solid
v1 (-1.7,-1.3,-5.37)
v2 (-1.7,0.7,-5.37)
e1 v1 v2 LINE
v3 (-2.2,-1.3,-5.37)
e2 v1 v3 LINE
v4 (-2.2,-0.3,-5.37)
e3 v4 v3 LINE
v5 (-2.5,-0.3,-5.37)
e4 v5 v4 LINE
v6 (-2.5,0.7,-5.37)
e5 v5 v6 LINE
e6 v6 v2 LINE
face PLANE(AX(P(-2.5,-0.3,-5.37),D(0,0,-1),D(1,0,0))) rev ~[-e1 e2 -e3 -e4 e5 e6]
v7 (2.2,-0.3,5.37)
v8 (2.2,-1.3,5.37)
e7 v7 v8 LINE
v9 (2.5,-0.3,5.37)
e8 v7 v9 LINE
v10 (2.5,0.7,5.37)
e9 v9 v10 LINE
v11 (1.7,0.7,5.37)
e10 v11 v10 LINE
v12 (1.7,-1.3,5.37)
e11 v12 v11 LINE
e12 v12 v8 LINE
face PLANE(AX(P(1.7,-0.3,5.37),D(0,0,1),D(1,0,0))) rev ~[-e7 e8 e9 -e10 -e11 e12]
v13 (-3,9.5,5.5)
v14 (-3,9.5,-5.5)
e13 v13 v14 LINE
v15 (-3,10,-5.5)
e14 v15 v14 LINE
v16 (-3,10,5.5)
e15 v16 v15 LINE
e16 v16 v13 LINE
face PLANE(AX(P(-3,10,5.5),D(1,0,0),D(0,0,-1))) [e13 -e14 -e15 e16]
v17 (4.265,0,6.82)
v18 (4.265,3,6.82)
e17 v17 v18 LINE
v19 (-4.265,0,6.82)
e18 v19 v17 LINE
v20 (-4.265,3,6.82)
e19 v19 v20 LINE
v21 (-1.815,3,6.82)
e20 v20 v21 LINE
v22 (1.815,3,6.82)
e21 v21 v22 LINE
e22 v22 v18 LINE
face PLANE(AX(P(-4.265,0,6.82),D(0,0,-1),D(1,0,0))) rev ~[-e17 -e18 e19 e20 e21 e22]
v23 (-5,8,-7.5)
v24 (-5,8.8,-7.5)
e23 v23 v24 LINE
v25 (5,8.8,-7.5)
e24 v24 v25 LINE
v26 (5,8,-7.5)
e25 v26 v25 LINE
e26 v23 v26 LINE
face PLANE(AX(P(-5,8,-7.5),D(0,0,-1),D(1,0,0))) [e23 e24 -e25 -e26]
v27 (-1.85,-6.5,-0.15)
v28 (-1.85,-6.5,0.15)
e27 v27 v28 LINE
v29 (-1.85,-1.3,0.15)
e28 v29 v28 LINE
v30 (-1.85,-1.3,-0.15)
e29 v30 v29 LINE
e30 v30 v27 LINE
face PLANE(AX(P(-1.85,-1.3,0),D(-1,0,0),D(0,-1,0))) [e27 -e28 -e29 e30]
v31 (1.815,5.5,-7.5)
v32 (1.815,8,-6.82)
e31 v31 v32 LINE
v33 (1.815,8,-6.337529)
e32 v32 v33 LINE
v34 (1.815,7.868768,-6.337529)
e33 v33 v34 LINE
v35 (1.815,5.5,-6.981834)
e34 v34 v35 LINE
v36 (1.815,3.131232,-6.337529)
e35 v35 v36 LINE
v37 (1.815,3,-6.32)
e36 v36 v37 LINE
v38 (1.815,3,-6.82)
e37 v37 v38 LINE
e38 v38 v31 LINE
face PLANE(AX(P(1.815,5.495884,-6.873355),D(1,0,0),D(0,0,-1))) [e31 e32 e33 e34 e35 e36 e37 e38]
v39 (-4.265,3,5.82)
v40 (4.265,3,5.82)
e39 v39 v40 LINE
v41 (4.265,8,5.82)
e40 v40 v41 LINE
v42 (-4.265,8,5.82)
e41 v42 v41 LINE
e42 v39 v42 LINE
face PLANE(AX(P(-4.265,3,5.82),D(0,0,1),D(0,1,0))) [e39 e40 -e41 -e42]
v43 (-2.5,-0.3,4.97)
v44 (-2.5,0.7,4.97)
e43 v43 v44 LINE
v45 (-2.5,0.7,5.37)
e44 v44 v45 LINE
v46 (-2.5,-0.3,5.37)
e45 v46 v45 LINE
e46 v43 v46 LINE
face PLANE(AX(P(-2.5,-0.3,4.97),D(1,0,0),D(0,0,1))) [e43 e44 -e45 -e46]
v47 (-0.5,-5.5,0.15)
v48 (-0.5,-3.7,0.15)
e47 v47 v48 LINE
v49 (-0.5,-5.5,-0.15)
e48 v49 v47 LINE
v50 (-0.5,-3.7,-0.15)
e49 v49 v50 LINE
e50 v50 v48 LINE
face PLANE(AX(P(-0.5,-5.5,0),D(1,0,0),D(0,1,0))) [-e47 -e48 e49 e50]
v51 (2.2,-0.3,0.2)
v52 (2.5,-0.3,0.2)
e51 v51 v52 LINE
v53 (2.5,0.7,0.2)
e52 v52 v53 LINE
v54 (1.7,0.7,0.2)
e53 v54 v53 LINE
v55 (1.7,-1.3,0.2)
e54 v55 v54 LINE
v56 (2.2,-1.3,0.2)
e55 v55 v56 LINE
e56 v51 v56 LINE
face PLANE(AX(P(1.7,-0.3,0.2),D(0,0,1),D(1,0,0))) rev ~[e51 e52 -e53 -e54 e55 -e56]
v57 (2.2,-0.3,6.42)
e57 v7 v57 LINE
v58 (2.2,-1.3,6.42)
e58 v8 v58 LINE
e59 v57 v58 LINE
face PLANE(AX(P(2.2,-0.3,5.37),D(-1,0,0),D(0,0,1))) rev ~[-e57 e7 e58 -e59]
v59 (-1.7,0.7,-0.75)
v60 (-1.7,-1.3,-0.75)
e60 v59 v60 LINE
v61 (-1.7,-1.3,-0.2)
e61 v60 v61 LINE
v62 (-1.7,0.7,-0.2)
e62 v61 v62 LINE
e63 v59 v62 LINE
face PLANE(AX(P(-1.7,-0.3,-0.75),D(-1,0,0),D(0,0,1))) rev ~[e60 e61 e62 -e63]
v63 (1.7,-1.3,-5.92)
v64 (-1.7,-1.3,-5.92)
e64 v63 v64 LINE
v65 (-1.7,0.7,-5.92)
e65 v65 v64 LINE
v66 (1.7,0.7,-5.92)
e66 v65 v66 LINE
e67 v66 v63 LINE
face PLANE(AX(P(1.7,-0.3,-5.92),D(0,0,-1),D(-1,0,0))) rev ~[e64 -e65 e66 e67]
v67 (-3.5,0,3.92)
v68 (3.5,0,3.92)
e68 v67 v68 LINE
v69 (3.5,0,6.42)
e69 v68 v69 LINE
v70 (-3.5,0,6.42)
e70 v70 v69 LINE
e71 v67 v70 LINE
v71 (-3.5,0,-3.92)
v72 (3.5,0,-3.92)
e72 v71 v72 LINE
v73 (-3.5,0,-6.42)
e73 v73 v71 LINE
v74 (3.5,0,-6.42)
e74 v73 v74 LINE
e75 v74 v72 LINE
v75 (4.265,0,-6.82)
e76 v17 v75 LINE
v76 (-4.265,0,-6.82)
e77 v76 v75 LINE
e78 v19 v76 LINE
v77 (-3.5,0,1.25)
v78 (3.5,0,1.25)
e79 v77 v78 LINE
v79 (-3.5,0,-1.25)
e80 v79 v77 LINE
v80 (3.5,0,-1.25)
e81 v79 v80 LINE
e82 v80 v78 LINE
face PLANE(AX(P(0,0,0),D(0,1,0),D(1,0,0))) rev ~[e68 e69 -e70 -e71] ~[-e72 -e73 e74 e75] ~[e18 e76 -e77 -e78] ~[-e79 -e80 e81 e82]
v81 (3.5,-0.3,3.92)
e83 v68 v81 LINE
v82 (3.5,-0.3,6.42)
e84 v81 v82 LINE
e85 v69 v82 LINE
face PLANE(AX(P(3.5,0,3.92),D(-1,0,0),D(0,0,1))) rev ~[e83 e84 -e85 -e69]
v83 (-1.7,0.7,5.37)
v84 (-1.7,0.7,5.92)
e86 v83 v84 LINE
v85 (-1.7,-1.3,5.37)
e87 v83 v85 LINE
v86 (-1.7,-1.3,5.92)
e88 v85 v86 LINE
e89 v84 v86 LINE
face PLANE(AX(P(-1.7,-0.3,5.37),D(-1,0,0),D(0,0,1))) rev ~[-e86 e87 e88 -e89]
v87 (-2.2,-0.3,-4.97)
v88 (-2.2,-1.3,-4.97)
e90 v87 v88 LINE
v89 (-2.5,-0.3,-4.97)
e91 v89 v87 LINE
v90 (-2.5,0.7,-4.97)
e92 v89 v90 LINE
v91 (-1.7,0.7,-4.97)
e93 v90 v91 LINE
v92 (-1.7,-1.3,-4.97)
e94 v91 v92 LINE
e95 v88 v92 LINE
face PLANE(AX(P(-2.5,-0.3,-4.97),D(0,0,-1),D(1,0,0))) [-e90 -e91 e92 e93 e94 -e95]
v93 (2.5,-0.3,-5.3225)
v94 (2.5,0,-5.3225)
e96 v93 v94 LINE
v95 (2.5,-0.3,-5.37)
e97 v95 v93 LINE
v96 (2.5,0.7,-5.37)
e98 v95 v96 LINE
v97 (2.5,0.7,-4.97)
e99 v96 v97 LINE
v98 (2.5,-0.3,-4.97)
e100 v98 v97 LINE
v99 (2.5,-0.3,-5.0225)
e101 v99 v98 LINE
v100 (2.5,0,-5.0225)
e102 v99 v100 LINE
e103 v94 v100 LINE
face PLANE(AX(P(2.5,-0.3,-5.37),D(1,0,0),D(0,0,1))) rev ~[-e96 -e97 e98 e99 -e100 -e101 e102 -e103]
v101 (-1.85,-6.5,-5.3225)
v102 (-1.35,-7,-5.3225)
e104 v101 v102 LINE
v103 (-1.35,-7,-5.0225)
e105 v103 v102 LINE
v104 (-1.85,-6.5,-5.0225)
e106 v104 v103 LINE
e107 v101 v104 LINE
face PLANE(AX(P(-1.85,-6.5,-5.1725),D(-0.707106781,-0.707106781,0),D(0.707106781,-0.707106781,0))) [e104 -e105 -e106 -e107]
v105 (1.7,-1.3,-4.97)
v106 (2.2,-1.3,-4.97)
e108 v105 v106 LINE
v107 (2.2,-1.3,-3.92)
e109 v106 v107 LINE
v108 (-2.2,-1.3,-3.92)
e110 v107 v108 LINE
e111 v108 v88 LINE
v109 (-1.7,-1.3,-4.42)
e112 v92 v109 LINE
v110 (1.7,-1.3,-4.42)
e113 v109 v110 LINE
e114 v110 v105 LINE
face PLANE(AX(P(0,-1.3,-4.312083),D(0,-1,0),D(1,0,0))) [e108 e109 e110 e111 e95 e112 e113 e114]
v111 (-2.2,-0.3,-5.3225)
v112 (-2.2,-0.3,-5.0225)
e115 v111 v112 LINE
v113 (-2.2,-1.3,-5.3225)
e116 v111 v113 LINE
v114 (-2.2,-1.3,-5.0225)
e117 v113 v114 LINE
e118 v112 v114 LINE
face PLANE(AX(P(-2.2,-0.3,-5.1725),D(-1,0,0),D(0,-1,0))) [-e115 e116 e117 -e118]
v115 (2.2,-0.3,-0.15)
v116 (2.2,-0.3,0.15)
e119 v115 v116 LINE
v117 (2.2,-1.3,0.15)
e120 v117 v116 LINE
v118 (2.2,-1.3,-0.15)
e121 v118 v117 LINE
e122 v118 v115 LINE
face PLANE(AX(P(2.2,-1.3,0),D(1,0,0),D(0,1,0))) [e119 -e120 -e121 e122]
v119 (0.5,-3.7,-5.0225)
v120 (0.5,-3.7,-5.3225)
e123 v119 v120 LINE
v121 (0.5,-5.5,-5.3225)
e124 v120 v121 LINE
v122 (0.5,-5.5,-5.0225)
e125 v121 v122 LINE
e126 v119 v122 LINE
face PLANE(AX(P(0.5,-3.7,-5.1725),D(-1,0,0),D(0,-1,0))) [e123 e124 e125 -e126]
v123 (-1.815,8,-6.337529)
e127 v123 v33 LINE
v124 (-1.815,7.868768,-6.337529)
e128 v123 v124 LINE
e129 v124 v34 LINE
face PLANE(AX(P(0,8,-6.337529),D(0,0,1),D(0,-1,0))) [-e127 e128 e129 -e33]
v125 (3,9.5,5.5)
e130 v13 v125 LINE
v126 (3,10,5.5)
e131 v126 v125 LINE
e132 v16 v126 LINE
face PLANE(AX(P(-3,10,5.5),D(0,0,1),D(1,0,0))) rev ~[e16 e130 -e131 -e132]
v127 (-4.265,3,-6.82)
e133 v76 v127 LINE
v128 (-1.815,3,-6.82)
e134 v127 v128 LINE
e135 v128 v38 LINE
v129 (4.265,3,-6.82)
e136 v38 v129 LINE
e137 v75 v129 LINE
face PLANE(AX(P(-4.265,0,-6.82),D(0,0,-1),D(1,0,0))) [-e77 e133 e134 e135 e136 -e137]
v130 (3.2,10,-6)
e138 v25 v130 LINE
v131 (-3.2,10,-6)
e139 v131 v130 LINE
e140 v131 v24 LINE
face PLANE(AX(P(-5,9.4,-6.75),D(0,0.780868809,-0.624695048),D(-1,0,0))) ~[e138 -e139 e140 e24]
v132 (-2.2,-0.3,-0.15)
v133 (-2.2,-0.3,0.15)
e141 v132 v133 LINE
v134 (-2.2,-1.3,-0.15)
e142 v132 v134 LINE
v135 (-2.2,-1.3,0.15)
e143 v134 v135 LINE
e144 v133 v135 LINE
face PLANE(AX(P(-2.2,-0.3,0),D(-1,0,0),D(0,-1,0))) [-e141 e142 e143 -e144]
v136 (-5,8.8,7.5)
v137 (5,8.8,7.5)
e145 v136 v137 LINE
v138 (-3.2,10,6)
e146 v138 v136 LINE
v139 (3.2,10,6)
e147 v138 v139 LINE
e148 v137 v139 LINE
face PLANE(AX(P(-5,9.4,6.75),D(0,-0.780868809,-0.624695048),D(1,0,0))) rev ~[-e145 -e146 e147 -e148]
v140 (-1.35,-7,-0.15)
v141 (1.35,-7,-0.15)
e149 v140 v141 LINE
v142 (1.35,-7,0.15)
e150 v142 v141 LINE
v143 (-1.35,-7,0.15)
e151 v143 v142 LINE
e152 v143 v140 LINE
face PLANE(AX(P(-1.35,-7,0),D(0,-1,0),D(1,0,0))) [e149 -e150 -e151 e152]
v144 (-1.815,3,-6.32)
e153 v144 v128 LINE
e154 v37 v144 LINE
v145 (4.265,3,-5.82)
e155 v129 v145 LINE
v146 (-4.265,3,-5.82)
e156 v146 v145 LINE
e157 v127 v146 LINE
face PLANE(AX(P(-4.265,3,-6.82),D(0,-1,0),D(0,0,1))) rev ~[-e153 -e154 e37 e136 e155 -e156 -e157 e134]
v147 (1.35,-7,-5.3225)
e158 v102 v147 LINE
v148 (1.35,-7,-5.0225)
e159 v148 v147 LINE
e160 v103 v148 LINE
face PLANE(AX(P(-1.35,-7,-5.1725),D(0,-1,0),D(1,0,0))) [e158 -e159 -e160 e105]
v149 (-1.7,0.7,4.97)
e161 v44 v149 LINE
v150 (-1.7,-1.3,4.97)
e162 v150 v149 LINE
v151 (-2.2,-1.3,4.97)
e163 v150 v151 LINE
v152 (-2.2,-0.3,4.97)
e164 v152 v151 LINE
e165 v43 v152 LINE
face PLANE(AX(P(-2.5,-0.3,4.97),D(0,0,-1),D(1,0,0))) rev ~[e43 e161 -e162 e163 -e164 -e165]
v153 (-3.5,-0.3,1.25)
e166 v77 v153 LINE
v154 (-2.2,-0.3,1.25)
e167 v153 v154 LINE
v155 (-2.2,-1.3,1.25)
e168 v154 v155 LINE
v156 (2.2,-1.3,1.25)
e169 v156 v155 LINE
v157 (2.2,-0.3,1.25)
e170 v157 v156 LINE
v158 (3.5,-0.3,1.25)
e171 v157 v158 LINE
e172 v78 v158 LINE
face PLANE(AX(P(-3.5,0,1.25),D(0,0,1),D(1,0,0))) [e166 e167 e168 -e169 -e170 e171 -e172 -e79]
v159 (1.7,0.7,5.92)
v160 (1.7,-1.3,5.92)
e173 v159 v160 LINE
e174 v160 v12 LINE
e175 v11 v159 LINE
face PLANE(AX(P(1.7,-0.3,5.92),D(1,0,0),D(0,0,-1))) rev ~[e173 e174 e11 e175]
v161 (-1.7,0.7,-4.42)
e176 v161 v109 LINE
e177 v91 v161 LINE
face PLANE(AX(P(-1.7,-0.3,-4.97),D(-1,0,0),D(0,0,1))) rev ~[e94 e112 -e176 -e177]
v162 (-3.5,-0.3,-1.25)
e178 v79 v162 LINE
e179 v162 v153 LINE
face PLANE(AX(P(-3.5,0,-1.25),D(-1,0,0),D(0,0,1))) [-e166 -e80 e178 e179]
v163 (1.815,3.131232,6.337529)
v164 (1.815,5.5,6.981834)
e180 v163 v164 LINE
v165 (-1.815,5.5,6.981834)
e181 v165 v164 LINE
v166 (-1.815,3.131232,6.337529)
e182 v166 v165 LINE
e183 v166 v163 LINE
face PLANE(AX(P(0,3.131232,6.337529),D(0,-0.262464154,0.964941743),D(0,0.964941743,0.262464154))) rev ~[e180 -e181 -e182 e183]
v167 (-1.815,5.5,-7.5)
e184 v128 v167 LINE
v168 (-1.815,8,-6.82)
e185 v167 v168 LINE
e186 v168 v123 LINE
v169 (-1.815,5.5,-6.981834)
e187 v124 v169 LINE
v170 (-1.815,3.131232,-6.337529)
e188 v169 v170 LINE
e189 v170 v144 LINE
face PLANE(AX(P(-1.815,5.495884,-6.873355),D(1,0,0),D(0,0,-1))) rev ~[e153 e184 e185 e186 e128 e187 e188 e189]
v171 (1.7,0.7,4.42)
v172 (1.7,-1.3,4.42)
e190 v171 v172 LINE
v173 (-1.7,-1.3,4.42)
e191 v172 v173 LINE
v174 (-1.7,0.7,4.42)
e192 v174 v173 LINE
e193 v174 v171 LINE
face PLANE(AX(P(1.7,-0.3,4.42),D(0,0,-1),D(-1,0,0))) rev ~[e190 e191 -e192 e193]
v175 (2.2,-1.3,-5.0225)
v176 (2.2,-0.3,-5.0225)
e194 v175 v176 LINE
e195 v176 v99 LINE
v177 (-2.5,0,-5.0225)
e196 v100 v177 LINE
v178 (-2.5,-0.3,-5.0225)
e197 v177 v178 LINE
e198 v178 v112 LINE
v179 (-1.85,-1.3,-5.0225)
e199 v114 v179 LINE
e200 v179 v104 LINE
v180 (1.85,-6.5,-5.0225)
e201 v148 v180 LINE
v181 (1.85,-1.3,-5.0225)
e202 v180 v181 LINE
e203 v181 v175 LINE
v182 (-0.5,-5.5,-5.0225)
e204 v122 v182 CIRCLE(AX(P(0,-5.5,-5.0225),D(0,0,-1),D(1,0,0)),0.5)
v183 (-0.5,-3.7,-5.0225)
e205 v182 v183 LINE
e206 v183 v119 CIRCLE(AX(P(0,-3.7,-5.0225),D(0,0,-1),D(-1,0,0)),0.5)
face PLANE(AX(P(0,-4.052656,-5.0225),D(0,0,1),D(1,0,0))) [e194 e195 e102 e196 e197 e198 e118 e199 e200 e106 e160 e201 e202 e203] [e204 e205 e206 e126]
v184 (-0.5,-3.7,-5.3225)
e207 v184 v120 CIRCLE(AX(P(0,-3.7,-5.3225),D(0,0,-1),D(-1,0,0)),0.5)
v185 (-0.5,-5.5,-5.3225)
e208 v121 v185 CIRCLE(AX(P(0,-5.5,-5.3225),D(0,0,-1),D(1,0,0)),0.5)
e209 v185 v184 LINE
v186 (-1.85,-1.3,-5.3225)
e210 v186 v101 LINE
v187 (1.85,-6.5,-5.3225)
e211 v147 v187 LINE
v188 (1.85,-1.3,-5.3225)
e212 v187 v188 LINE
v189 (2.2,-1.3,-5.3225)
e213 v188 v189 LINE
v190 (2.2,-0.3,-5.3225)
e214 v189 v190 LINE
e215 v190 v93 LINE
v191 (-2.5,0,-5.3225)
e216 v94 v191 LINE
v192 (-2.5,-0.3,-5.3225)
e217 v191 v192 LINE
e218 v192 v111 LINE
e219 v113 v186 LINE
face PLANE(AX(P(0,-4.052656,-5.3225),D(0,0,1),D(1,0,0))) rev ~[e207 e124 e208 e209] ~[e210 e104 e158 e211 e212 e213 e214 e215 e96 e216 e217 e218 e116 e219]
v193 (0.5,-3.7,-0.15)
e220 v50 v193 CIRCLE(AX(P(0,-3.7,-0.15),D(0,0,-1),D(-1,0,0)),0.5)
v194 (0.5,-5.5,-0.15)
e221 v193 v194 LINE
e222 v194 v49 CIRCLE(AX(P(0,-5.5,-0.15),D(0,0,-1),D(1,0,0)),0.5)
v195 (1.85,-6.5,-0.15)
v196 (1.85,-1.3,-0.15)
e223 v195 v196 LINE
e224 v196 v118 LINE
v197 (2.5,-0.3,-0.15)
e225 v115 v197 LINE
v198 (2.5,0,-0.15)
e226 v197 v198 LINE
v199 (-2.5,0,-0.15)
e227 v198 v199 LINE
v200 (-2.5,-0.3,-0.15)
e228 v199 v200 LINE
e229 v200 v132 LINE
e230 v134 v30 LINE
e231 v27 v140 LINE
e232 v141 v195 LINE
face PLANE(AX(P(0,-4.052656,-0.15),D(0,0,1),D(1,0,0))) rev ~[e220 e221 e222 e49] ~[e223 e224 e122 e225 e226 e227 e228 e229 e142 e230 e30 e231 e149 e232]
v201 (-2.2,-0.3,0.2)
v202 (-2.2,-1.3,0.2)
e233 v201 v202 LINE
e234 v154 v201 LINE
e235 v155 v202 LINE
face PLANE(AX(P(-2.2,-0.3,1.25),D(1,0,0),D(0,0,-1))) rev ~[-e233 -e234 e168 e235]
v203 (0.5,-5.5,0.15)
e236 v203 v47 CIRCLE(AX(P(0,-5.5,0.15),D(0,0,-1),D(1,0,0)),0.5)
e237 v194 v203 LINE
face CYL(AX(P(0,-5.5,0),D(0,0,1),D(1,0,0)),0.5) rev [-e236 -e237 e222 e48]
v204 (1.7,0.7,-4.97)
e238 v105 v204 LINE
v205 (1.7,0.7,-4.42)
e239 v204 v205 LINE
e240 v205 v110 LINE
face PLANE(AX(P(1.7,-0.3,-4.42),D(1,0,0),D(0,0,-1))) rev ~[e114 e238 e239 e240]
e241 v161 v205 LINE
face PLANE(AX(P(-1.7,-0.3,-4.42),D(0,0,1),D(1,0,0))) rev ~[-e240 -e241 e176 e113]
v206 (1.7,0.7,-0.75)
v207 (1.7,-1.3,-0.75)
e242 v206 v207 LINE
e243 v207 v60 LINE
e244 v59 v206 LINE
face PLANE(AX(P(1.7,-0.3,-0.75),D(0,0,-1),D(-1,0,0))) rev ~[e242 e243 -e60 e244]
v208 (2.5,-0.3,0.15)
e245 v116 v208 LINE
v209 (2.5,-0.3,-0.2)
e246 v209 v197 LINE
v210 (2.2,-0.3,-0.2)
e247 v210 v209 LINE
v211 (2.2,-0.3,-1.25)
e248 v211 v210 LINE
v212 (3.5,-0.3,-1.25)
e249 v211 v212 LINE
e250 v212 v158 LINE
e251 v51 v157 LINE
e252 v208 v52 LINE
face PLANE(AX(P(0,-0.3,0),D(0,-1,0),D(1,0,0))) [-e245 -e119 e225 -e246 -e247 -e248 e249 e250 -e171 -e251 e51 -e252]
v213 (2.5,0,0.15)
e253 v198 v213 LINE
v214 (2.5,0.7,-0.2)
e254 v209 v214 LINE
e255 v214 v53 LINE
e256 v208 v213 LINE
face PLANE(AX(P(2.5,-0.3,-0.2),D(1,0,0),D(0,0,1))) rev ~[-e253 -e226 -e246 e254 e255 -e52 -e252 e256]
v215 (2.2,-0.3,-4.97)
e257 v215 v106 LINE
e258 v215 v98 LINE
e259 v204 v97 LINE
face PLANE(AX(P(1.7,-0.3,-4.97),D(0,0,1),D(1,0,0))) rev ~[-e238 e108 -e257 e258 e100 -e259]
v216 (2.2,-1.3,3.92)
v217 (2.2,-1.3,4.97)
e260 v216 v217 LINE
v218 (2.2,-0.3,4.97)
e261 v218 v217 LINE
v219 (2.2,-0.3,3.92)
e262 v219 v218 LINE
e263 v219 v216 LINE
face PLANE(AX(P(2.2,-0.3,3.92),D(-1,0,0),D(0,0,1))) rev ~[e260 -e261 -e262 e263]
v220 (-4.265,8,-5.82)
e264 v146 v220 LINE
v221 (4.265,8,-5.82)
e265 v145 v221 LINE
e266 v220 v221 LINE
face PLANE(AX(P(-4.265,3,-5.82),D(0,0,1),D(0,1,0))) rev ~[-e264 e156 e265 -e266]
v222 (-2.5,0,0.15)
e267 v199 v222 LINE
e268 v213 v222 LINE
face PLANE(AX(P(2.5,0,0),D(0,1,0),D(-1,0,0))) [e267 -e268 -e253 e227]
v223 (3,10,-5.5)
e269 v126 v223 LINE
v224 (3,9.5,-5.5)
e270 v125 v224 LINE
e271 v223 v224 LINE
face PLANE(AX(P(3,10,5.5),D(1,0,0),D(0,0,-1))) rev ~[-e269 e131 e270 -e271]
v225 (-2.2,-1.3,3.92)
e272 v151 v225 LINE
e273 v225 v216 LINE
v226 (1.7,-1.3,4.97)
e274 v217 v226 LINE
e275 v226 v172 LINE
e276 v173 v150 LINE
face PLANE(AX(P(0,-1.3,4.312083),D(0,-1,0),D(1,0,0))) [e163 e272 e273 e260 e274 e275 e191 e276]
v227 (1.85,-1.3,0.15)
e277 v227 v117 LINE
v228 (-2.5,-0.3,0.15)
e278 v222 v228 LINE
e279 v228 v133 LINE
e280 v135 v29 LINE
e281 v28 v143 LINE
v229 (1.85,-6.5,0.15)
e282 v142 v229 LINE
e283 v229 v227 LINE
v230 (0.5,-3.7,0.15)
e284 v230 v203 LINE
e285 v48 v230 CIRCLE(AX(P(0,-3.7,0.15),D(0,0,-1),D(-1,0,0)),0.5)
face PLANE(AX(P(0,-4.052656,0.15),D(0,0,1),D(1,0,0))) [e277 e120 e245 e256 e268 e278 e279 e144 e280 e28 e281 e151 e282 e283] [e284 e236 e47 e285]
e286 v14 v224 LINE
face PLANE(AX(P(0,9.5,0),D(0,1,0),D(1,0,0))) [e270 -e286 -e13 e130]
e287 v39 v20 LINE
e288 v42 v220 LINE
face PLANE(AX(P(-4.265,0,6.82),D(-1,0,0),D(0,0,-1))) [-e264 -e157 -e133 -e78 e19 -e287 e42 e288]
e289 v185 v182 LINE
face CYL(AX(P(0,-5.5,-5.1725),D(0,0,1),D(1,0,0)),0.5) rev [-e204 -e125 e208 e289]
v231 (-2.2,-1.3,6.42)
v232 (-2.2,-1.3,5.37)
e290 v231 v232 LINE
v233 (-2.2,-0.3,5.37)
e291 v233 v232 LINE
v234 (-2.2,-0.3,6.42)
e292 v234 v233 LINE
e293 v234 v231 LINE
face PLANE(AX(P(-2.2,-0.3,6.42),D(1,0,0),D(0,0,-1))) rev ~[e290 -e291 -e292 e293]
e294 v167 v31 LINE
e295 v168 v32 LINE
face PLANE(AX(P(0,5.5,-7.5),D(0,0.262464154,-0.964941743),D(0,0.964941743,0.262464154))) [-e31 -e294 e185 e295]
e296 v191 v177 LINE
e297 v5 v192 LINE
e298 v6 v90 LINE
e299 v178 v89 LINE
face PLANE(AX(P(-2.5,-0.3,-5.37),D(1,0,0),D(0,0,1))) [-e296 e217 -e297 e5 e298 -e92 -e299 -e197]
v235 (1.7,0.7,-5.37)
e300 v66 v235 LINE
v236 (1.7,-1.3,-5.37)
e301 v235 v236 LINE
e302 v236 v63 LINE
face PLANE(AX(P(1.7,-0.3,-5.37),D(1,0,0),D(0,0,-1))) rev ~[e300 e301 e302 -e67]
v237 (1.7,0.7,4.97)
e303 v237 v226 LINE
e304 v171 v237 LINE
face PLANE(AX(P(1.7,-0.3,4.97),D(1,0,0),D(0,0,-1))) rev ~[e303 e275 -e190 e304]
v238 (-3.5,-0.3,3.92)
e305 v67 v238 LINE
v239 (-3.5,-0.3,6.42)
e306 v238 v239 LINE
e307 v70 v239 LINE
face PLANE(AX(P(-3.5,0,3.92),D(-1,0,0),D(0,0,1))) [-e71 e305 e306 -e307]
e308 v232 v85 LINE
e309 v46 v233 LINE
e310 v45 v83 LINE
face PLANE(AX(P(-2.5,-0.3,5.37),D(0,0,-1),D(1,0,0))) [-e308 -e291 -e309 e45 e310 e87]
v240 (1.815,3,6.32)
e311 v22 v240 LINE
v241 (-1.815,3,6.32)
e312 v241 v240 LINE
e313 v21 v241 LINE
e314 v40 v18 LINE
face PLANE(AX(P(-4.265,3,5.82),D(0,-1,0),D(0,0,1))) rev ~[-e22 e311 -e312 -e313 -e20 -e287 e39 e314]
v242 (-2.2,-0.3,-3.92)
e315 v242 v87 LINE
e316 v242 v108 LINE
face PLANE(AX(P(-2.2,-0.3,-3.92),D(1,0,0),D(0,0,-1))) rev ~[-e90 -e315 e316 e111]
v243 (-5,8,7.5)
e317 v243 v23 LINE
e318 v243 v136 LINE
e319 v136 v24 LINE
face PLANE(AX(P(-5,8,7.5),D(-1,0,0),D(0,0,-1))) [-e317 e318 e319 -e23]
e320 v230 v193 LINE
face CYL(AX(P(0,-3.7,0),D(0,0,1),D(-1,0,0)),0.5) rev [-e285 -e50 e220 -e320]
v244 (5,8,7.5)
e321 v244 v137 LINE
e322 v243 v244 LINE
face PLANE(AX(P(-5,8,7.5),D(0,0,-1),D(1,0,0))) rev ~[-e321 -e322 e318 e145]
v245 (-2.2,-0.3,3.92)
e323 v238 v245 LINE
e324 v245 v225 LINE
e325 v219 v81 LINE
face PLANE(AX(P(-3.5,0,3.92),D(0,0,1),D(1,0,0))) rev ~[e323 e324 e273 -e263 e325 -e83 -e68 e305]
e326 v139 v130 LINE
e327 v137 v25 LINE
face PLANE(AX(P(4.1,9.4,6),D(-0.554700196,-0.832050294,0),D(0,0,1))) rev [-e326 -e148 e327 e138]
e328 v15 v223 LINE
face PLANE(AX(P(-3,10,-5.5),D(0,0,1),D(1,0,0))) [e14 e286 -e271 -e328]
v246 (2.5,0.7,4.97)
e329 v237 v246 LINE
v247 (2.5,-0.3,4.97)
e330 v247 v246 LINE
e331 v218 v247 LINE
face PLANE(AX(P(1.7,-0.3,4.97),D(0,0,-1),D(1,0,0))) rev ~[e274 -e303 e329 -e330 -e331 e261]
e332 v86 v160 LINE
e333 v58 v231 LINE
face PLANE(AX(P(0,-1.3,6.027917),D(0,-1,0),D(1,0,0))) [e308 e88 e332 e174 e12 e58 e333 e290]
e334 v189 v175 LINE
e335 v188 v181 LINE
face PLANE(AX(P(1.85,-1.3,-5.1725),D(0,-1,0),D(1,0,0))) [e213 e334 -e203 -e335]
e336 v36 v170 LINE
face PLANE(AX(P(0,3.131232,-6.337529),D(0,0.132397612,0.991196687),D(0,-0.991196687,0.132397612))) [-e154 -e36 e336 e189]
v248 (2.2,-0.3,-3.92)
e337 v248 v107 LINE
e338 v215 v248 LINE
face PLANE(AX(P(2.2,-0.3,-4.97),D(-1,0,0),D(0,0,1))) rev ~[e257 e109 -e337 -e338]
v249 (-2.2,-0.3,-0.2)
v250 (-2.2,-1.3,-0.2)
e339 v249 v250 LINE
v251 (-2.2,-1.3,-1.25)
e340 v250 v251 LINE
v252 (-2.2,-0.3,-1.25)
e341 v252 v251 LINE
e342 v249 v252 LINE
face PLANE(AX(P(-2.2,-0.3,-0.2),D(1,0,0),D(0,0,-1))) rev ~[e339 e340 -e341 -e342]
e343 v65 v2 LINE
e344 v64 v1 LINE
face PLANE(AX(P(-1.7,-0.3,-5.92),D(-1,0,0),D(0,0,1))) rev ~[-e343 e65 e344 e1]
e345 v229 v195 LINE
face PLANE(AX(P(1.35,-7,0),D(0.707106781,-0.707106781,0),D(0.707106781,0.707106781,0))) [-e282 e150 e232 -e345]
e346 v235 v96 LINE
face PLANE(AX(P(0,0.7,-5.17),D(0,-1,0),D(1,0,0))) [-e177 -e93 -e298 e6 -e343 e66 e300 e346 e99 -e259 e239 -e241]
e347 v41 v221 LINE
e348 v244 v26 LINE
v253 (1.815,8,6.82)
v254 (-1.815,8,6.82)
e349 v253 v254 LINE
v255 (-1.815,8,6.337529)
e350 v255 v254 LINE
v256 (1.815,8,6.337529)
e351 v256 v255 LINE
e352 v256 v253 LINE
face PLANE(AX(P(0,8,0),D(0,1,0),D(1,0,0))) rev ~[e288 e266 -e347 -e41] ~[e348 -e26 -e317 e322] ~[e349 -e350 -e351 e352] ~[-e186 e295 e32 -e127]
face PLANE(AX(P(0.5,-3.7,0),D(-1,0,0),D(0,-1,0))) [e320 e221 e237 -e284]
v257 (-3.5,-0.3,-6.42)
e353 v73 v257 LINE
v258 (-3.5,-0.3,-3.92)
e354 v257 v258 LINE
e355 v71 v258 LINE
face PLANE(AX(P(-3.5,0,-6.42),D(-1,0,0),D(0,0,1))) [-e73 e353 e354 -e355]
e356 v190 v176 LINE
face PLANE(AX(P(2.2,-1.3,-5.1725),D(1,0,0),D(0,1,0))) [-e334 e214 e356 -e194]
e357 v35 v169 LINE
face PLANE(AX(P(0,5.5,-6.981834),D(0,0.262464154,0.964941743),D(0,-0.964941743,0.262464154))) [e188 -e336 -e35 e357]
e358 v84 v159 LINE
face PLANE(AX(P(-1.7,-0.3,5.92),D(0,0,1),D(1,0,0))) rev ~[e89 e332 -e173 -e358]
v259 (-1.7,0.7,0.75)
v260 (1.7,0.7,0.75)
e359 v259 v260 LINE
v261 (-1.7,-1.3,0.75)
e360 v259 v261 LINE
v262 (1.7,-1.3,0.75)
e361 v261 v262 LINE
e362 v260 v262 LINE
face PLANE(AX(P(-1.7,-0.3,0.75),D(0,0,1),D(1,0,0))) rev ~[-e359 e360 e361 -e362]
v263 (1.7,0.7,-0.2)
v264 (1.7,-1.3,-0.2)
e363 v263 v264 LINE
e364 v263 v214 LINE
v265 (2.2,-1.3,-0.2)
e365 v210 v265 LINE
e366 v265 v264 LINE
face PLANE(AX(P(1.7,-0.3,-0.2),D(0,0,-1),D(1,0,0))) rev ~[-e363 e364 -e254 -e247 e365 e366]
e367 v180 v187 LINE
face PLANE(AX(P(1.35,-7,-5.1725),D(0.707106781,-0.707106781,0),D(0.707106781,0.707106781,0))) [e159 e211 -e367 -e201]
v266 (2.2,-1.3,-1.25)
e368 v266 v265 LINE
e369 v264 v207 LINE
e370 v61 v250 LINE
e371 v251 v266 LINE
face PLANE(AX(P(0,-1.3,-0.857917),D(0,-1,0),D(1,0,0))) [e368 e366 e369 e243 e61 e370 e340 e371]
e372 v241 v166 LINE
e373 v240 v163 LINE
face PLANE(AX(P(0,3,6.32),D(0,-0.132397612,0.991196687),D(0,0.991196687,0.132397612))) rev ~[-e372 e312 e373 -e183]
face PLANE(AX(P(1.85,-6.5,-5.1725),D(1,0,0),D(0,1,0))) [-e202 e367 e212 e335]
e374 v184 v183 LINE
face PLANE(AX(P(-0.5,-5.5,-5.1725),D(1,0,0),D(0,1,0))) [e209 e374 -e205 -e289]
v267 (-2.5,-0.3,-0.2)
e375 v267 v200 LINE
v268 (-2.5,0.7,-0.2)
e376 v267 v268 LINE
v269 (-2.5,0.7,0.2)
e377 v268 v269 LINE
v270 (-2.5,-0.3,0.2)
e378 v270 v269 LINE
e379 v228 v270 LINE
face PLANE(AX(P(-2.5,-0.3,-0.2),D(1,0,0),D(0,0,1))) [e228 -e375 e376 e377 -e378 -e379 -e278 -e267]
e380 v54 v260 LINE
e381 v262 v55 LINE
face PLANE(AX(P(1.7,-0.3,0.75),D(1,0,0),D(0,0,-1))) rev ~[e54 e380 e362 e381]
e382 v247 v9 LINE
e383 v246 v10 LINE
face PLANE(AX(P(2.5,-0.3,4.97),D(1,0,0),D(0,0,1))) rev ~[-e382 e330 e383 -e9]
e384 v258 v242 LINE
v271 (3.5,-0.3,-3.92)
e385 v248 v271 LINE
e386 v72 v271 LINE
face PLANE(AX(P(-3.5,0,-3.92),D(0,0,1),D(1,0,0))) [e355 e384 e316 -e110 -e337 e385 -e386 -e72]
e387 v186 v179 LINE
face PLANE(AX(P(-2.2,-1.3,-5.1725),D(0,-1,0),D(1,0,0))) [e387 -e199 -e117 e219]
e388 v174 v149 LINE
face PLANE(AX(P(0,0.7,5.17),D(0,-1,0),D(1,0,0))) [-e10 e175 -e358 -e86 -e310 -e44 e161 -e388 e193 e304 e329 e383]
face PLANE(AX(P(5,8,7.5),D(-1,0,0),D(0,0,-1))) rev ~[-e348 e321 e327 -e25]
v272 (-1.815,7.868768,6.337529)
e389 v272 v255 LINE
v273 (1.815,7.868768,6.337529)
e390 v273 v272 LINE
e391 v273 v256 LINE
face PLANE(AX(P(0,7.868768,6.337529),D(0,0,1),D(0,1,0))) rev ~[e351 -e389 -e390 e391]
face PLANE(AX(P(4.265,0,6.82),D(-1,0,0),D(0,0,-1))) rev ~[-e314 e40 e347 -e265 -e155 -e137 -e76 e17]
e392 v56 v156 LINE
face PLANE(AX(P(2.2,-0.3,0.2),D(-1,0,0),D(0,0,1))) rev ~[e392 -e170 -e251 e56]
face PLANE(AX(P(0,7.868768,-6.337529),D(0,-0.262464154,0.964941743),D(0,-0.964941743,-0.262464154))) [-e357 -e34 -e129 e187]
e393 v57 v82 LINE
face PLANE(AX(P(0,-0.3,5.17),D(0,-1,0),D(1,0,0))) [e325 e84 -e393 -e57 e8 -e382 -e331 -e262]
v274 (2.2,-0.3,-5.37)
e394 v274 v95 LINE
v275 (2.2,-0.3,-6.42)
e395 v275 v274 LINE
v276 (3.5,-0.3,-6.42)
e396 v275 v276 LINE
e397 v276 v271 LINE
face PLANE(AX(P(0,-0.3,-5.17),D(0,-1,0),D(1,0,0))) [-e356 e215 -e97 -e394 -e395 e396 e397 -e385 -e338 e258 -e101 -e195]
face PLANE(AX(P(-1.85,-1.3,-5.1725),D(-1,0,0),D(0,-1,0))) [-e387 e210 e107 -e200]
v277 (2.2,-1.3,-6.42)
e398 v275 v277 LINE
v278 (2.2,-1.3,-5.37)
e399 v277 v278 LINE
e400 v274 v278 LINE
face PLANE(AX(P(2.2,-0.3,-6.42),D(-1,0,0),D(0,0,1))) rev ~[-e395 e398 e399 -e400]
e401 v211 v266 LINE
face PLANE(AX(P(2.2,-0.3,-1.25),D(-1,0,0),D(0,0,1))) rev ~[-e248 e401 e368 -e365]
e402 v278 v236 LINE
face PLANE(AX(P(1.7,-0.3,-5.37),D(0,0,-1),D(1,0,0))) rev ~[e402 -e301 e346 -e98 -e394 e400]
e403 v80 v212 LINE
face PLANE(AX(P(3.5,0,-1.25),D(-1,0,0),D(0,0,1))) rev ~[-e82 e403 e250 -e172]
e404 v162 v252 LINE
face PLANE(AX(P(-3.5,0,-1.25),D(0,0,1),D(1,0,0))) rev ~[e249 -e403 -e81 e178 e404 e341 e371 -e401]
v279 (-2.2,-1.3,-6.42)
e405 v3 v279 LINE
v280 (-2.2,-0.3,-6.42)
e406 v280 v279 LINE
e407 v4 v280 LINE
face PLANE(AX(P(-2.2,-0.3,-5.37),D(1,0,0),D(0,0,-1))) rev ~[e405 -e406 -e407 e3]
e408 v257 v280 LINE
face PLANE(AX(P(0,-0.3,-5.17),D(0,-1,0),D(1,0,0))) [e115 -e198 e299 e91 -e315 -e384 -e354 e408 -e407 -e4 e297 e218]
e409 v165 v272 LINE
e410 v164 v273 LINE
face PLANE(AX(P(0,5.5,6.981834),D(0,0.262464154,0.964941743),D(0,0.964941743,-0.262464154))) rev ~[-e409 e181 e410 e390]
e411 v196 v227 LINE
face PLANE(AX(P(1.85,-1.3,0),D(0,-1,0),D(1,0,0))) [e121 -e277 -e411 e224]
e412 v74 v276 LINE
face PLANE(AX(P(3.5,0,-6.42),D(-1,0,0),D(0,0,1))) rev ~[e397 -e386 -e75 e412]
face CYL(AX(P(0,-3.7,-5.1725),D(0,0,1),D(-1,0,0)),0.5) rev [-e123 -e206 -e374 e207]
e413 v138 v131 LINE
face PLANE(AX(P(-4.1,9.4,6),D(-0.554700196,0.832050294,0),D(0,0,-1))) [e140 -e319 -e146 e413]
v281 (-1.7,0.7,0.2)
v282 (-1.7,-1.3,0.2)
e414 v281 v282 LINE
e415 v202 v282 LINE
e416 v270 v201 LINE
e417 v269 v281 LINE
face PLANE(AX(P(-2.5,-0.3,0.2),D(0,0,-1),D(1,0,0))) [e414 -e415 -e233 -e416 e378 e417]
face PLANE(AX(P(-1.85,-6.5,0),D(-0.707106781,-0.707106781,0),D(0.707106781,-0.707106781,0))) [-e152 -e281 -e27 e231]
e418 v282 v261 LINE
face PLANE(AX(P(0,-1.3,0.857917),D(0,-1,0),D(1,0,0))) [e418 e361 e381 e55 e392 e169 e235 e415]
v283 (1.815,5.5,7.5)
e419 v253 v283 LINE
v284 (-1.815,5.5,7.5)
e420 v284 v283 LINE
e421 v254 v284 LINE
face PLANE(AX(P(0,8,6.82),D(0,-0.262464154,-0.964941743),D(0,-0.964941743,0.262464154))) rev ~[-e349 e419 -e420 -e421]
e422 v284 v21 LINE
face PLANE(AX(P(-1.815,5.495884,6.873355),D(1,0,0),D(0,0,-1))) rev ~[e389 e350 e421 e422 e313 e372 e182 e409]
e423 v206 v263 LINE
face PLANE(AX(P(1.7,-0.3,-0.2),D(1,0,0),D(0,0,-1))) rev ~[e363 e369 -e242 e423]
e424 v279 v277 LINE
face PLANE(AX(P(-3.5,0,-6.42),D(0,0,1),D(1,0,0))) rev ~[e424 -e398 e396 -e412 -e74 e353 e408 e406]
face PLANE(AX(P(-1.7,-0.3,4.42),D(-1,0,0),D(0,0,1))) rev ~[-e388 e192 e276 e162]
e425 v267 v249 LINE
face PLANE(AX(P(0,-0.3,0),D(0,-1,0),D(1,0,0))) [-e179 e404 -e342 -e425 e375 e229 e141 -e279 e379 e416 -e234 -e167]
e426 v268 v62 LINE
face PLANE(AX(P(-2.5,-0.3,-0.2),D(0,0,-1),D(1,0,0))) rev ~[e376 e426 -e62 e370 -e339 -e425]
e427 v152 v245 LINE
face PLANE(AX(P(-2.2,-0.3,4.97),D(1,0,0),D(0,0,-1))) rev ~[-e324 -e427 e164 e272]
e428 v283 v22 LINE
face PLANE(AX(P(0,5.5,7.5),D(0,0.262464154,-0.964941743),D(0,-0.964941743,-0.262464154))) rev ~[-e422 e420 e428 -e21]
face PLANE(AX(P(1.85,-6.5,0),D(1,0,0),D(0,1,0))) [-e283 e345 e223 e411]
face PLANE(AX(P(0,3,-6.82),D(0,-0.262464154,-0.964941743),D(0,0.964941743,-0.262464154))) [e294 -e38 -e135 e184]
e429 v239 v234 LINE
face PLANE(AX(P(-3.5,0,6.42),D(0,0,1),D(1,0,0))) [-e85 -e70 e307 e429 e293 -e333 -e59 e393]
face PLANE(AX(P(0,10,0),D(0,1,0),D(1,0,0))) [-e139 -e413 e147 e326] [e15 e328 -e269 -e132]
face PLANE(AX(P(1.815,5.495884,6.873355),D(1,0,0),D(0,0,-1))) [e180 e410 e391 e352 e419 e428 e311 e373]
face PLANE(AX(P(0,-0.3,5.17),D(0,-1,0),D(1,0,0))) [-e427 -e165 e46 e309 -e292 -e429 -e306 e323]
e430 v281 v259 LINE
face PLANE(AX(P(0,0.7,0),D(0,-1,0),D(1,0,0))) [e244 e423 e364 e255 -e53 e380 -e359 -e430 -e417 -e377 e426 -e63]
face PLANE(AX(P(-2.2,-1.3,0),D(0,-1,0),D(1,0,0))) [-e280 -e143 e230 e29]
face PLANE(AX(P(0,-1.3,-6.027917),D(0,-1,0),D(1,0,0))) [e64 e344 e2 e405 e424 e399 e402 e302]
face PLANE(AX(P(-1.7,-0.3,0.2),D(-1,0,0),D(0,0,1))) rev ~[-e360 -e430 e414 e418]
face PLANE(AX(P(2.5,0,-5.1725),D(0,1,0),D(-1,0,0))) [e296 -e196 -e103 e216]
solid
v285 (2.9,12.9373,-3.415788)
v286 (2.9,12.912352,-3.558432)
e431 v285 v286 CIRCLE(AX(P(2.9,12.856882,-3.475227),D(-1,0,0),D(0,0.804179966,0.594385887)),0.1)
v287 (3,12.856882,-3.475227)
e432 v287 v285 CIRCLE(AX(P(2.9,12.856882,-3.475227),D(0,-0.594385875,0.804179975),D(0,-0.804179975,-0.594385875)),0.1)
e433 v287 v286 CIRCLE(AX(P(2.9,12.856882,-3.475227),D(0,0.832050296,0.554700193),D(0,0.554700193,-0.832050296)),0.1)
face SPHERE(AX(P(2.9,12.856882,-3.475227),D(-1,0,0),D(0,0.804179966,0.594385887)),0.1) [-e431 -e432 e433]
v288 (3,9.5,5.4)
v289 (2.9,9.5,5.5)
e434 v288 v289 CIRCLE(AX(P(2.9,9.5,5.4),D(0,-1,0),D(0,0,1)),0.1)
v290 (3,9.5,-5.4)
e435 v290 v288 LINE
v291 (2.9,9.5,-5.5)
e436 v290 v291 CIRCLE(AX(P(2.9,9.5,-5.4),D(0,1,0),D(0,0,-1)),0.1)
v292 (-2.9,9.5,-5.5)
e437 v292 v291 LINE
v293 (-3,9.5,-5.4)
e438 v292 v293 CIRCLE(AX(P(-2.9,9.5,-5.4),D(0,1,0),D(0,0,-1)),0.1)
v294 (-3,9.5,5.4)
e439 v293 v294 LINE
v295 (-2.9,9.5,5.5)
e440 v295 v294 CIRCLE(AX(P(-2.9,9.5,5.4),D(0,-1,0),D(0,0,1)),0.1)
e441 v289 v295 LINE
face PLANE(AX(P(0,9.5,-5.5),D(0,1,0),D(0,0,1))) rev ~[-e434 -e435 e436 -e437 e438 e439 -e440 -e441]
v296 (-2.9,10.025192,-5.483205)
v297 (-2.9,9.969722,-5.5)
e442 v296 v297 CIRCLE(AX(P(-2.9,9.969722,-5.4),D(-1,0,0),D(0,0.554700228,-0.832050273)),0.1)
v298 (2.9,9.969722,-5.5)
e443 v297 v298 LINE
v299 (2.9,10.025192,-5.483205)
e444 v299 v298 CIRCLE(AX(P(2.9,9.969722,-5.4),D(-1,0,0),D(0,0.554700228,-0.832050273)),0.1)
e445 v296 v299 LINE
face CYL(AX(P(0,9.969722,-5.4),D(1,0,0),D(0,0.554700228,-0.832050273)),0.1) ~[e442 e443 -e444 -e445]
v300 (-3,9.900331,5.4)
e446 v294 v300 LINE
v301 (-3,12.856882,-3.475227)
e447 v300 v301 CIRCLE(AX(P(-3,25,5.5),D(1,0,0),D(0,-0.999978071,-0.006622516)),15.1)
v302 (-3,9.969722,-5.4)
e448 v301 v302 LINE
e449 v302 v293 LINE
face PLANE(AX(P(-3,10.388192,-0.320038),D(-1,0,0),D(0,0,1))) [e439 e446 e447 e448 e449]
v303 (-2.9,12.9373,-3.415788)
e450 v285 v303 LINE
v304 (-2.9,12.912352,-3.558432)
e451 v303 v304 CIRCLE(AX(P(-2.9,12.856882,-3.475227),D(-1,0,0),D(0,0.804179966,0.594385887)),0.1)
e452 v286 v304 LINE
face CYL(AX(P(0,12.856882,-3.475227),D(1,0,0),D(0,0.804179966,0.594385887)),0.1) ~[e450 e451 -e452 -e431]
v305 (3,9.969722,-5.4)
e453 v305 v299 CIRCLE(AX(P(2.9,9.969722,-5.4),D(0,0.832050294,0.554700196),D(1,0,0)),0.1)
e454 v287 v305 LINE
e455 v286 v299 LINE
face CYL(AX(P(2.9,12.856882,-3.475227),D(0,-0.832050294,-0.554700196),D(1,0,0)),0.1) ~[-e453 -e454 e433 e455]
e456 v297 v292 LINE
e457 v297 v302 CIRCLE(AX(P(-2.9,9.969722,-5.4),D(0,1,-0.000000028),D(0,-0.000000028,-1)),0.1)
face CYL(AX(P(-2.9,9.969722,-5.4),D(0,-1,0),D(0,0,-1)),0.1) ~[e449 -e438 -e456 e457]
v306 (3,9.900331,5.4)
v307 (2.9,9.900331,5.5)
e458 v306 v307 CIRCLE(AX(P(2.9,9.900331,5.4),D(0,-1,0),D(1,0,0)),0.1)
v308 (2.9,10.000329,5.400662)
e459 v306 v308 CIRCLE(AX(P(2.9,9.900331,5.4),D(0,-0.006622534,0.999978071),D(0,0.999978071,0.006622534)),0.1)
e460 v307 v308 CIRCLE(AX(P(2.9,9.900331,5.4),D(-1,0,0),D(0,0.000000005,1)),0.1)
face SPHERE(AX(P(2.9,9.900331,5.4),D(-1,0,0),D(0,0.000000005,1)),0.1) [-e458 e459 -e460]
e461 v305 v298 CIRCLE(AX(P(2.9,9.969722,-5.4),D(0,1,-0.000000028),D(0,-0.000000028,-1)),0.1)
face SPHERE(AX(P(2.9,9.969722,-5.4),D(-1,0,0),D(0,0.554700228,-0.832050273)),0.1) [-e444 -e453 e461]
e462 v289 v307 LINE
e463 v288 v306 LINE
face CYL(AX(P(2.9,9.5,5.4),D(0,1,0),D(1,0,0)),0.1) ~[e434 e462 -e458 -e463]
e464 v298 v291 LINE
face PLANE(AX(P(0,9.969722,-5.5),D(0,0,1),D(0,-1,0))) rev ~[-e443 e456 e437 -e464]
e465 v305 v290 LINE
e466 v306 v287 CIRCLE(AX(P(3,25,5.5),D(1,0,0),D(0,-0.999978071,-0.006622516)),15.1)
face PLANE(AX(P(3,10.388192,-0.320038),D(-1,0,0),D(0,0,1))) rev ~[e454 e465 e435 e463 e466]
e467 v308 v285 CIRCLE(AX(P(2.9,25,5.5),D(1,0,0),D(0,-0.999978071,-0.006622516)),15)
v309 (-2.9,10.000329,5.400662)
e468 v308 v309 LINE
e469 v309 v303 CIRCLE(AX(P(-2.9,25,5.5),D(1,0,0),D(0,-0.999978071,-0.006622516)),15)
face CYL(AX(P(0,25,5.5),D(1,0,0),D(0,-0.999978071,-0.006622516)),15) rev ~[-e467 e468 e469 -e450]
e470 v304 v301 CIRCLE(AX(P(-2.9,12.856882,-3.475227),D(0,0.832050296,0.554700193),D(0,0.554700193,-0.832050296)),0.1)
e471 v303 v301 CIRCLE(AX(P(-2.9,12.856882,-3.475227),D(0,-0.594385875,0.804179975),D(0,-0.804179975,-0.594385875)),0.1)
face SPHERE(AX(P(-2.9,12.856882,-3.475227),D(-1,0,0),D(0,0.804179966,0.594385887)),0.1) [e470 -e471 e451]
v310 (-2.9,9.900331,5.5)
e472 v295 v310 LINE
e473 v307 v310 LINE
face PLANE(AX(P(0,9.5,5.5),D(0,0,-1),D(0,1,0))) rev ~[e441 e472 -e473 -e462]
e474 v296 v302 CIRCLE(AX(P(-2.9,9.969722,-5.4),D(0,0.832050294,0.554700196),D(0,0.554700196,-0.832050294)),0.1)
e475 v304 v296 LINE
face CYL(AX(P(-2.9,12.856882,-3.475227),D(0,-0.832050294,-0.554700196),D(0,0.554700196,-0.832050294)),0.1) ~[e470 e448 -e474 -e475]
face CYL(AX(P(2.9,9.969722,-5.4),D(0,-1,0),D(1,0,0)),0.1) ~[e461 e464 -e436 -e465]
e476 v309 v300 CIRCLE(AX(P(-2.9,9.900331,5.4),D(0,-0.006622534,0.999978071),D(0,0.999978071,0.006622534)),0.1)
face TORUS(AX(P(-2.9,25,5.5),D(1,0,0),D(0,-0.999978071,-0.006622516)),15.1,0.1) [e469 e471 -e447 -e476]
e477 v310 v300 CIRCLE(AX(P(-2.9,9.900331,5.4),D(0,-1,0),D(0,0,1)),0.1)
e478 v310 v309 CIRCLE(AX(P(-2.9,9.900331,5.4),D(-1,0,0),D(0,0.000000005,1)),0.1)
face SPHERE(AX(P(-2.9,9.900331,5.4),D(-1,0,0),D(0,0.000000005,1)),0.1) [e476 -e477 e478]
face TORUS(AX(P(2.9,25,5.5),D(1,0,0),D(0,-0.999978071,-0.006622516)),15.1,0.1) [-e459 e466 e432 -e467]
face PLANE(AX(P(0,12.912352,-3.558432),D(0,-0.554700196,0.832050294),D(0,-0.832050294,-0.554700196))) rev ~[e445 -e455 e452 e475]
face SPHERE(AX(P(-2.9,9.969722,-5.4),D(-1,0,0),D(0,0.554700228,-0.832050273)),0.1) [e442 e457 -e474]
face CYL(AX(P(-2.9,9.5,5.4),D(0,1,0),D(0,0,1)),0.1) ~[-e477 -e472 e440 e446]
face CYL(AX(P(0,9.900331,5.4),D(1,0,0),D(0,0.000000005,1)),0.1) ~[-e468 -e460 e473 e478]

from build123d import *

# Parameters (mm, degrees)
SKETCH1_W           = 8.53
SKETCH1_H           = 13.64
BOSS_EXTRUDE1_DEPTH = 10
SKETCH2_W           = 1
SKETCH2_H           = 5
CUT_EXTRUDE1_DEPTH  = 9.53
SKETCH3_W           = 6
SKETCH3_H           = 11
CUT_EXTRUDE2_DEPTH  = 0.5
BOSS_EXTRUDE2_START = -2
SKETCH4_W           = 10
SKETCH4_H           = 15
SKETCH4_W_2         = 8.53
SKETCH4_H_2         = 13.64
SKETCH4_W_3         = 6
SKETCH4_H_3         = 11
BOSS_EXTRUDE2_DEPTH = 2
CHAMFER1_SIZE       = 1.5
CHAMFER1_SIZE2      = 1.2
CHAMFER2_SIZE       = 1.2
CHAMFER2_SIZE2      = 1.5
CHAMFER3_SIZE       = 1.8
CHAMFER3_SIZE2      = 1.2
CHAMFER4_SIZE       = 1.2
CHAMFER4_SIZE2      = 1.8
BOSS_EXTRUDE3_DEPTH = 1.815
SKETCH7_W           = 7
SKETCH7_H           = 2.5
BOSS_EXTRUDE4_DEPTH = 0.3
BOSS_EXTRUDE5_DEPTH = 1
SKETCH8_5_W         = 5
SKETCH8_5_H         = 0.4
SKETCH8_5_W_2       = 3.4
SKETCH8_5_H_2       = 1.5
CUT_EXTRUDE4_DEPTH  = 1
BOSS_EXTRUDE6_DEPTH = 0.15
LPATTERN1_COUNT     = 2
LPATTERN1_PITCH     = 5.1725
BOSS_EXTRUDE7_DEPTH = 3
FILLET1_R           = 0.1


with BuildPart() as part:
    # Sketch1 → Boss-Extrude1 (new body)
    with BuildSketch(Plane(origin=(0, 0, 0), x_dir=(1, 0, 0), z_dir=(0, 1, 0))):
        Rectangle(SKETCH1_W, SKETCH1_H)
    extrude(amount=BOSS_EXTRUDE1_DEPTH)

    # Sketch2 → Cut-Extrude1 (cut, through all)
    with BuildSketch(Plane.ZY.offset(4.265)):
        with Locations((-6.32, 5.5)):
            Rectangle(SKETCH2_W, SKETCH2_H)
        with Locations((6.32, 5.5)):
            Rectangle(SKETCH2_W, SKETCH2_H)
    extrude(amount=-CUT_EXTRUDE1_DEPTH, mode=Mode.SUBTRACT)

    # Sketch3 → Cut-Extrude2 (cut)
    with BuildSketch(Plane(origin=(0, 10, 0), x_dir=(1, 0, 0), z_dir=(0, 1, 0))):
        Rectangle(SKETCH3_W, SKETCH3_H)
    extrude(amount=-CUT_EXTRUDE2_DEPTH, mode=Mode.SUBTRACT)

    # Sketch4 → Boss-Extrude2 (add)
    with BuildSketch(Plane(origin=(0, 10, 0), x_dir=(1, 0, 0), z_dir=(0, 1, 0)).offset(BOSS_EXTRUDE2_START)):
        Rectangle(SKETCH4_W, SKETCH4_H)
        Rectangle(SKETCH4_W_2, SKETCH4_H_2, mode=Mode.SUBTRACT)
        Rectangle(SKETCH4_W_2, SKETCH4_H_2)
        Rectangle(SKETCH4_W_3, SKETCH4_H_3, mode=Mode.SUBTRACT)
    extrude(amount=BOSS_EXTRUDE2_DEPTH)

    # Chamfer1
    chamfer1_edges = [part.edges().sort_by_distance(p)[0] for p in [
        (0, 10, 7.5),
    ]]
    chamfer1_side = [part.faces().sort_by_distance(p)[0] for p in [
        (-4.819722436, 10, 0),
    ]]
    chamfer(chamfer1_edges, length=CHAMFER1_SIZE, length2=CHAMFER1_SIZE2, reference=chamfer1_side[0])

    # Chamfer2
    chamfer2_edges = [part.edges().sort_by_distance(p)[0] for p in [
        (0, 10, -7.5),
    ]]
    chamfer2_side = [part.faces().sort_by_distance(p)[0] for p in [
        (0, 9, -7.5),
    ]]
    chamfer(chamfer2_edges, length=CHAMFER2_SIZE, length2=CHAMFER2_SIZE2, reference=chamfer2_side[0])

    # Chamfer3
    chamfer3_edges = [part.edges().sort_by_distance(p)[0] for p in [
        (-5, 10, 0),
    ]]
    chamfer3_side = [part.faces().sort_by_distance(p)[0] for p in [
        (-4.843795006, 10, 0),
    ]]
    chamfer(chamfer3_edges, length=CHAMFER3_SIZE, length2=CHAMFER3_SIZE2, reference=chamfer3_side[0])

    # Chamfer4
    chamfer4_edges = [part.edges().sort_by_distance(p)[0] for p in [
        (5, 10, 0),
    ]]
    chamfer4_side = [part.faces().sort_by_distance(p)[0] for p in [
        (5, 8.961702128, 0),
    ]]
    chamfer(chamfer4_edges, length=CHAMFER4_SIZE, length2=CHAMFER4_SIZE2, reference=chamfer4_side[0])

    # Sketch6 → Boss-Extrude3 (add, symmetric)
    with BuildSketch(Plane(origin=(0, 0, 0), x_dir=(0, 0, -1), z_dir=(1, 0, 0))):
        Polygon((-6.82, 8), (-7.5, 5.5), (-6.82, 3), (-6.32, 3), (-6.337529128, 3.131232077), (-6.981834003, 5.5), (-6.337529128, 7.868767923), (-6.337529128, 8), align=None)
        Polygon((6.32, 3), (6.82, 3), (7.5, 5.5), (6.82, 8), (6.337529128, 8), (6.337529128, 7.868767923), (6.981834003, 5.5), (6.337529128, 3.131232077), align=None)
    extrude(amount=BOSS_EXTRUDE3_DEPTH, both=True)

    # Sketch7 → Boss-Extrude4 (add)
    with BuildSketch(Plane.XZ):
        Rectangle(SKETCH7_W, SKETCH7_H)
        with Locations((0, -5.17)):
            Rectangle(SKETCH7_W, SKETCH7_H)
        with Locations((0, 5.17)):
            Rectangle(SKETCH7_W, SKETCH7_H)
    extrude(amount=BOSS_EXTRUDE4_DEPTH)

    # Sketch8 → Boss-Extrude5 (add)
    with BuildSketch(Plane.XZ.offset(0.3)):
        Polygon((1.7, 5.37), (2.2, 5.37), (2.2, 6.42), (-2.2, 6.42), (-2.2, 5.37), (-1.7, 5.37), (-1.7, 5.92), (1.7, 5.92), align=None)
        Polygon((-2.2, 3.92), (2.2, 3.92), (2.2, 4.97), (1.7, 4.97), (1.7, 4.42), (-1.7, 4.42), (-1.7, 4.97), (-2.2, 4.97), align=None)
        Polygon((1.7, 0.2), (2.2, 0.2), (2.2, 1.25), (-2.2, 1.25), (-2.2, 0.2), (-1.7, 0.2), (-1.7, 0.75), (1.7, 0.75), align=None)
        Polygon((-2.2, -1.25), (2.2, -1.25), (2.2, -0.2), (1.7, -0.2), (1.7, -0.75), (-1.7, -0.75), (-1.7, -0.2), (-2.2, -0.2), align=None)
        Polygon((1.7, -4.97), (2.2, -4.97), (2.2, -3.92), (-2.2, -3.92), (-2.2, -4.97), (-1.7, -4.97), (-1.7, -4.42), (1.7, -4.42), align=None)
        Polygon((-2.2, -6.42), (2.2, -6.42), (2.2, -5.37), (1.7, -5.37), (1.7, -5.92), (-1.7, -5.92), (-1.7, -5.37), (-2.2, -5.37), align=None)
    extrude(amount=BOSS_EXTRUDE5_DEPTH)

    # Sketch8<5> → Cut-Extrude4 (cut)
    with BuildSketch(Plane.XZ.offset(0.3)):
        Rectangle(SKETCH8_5_W, SKETCH8_5_H)
        with Locations((0, -5.17)):
            Rectangle(SKETCH8_5_W, SKETCH8_5_H)
        with Locations((0, 5.17)):
            Rectangle(SKETCH8_5_W, SKETCH8_5_H)
        with Locations((0, 5.17)):
            Rectangle(SKETCH8_5_W_2, SKETCH8_5_H_2)
        Rectangle(SKETCH8_5_W_2, SKETCH8_5_H_2)
        with Locations((0, -5.17)):
            Rectangle(SKETCH8_5_W_2, SKETCH8_5_H_2)
    extrude(amount=-CUT_EXTRUDE4_DEPTH, mode=Mode.SUBTRACT)

    # Sketch10 → Boss-Extrude6 (add, symmetric)
    with BuildSketch(Plane.XY):
        Polygon((1.85, -1.65), (1.85, -1.3), (-1.85, -1.3), (-1.85, -1.65), (-1.85, -6.5), (-1.35, -7), (1.35, -7), (1.85, -6.5), align=None)
        with BuildLine():
            ThreePointArc((0.5, -5.5), (0, -6), (-0.5, -5.5))
            Line((-0.5, -5.5), (-0.5, -3.7))
            ThreePointArc((-0.5, -3.7), (0, -3.2), (0.5, -3.7))
            Line((0.5, -3.7), (0.5, -5.5))
        make_face(mode=Mode.SUBTRACT)
        Polygon((2.5, 0), (1.85, 0), (-1.85, 0), (-2.5, 0), (-2.5, -0.3), (-2.2, -0.3), (-2.2, -1.3), (-1.85, -1.3), (1.85, -1.3), (2.2, -1.3), (2.2, -0.3), (2.5, -0.3), align=None)
    boss_extrude6 = extrude(amount=BOSS_EXTRUDE6_DEPTH, both=True)

    # LPattern1: Boss-Extrude6 ×2
    with Locations(*[(0, 0, -i * LPATTERN1_PITCH) for i in range(1, LPATTERN1_COUNT)]):
        add(boss_extrude6)


with BuildPart() as body_2:
    # Sketch11 → Boss-Extrude7 (new body, symmetric)
    with BuildSketch(Plane(origin=(0, 0, 0), x_dir=(0, 0, -1), z_dir=(1, 0, 0))):
        with BuildLine():
            Line((5.5, 9.5), (-5.5, 9.5))
            Line((-5.5, 9.5), (-5.5, 9.900331129))
            ThreePointArc((-5.5, 9.900331129), (-5.470944433, 9.970807277), (-5.400662252, 10.000328937))
            ThreePointArc((-5.400662252, 10.000328937), (-0.759264413, 10.768857175), (3.415788118, 12.937300375))
            ThreePointArc((3.415788118, 12.937300375), (3.492454919, 12.955387143), (3.558431735, 12.912352398))
            Line((3.558431735, 12.912352398), (5.483205029, 10.025192456))
            ThreePointArc((5.483205029, 10.025192456), (5.495709203, 9.998700851), (5.5, 9.969722436))
            Line((5.5, 9.969722436), (5.5, 9.5))
        make_face()
    extrude(amount=BOSS_EXTRUDE7_DEPTH, both=True)

    # Fillet1
    fillet1_edges = [body_2.edges().sort_by_distance(p)[0] for p in [
        (-3, 12.955387143, -3.492454919),
        (-3, 11.468772427, -4.520818382),
        (-3, 9.998700851, -5.495709203),
        (-3, 9.734861218, -5.5),
        (3, 11.468772427, -4.520818382),
        (3, 12.955387143, -3.492454919),
        (3, 10.768857175, 0.759264413),
        (3, 9.970807277, 5.470944433),
        (3, 9.700165565, 5.5),
        (3, 9.734861218, -5.5),
        (3, 9.998700851, -5.495709203),
        (-3, 9.700165565, 5.5),
        (-3, 9.970807277, 5.470944433),
        (-3, 10.768857175, 0.759264413),
    ]]
    fillet(fillet1_edges, radius=FILLET1_R)


solid = Compound([part.part, body_2.part])
